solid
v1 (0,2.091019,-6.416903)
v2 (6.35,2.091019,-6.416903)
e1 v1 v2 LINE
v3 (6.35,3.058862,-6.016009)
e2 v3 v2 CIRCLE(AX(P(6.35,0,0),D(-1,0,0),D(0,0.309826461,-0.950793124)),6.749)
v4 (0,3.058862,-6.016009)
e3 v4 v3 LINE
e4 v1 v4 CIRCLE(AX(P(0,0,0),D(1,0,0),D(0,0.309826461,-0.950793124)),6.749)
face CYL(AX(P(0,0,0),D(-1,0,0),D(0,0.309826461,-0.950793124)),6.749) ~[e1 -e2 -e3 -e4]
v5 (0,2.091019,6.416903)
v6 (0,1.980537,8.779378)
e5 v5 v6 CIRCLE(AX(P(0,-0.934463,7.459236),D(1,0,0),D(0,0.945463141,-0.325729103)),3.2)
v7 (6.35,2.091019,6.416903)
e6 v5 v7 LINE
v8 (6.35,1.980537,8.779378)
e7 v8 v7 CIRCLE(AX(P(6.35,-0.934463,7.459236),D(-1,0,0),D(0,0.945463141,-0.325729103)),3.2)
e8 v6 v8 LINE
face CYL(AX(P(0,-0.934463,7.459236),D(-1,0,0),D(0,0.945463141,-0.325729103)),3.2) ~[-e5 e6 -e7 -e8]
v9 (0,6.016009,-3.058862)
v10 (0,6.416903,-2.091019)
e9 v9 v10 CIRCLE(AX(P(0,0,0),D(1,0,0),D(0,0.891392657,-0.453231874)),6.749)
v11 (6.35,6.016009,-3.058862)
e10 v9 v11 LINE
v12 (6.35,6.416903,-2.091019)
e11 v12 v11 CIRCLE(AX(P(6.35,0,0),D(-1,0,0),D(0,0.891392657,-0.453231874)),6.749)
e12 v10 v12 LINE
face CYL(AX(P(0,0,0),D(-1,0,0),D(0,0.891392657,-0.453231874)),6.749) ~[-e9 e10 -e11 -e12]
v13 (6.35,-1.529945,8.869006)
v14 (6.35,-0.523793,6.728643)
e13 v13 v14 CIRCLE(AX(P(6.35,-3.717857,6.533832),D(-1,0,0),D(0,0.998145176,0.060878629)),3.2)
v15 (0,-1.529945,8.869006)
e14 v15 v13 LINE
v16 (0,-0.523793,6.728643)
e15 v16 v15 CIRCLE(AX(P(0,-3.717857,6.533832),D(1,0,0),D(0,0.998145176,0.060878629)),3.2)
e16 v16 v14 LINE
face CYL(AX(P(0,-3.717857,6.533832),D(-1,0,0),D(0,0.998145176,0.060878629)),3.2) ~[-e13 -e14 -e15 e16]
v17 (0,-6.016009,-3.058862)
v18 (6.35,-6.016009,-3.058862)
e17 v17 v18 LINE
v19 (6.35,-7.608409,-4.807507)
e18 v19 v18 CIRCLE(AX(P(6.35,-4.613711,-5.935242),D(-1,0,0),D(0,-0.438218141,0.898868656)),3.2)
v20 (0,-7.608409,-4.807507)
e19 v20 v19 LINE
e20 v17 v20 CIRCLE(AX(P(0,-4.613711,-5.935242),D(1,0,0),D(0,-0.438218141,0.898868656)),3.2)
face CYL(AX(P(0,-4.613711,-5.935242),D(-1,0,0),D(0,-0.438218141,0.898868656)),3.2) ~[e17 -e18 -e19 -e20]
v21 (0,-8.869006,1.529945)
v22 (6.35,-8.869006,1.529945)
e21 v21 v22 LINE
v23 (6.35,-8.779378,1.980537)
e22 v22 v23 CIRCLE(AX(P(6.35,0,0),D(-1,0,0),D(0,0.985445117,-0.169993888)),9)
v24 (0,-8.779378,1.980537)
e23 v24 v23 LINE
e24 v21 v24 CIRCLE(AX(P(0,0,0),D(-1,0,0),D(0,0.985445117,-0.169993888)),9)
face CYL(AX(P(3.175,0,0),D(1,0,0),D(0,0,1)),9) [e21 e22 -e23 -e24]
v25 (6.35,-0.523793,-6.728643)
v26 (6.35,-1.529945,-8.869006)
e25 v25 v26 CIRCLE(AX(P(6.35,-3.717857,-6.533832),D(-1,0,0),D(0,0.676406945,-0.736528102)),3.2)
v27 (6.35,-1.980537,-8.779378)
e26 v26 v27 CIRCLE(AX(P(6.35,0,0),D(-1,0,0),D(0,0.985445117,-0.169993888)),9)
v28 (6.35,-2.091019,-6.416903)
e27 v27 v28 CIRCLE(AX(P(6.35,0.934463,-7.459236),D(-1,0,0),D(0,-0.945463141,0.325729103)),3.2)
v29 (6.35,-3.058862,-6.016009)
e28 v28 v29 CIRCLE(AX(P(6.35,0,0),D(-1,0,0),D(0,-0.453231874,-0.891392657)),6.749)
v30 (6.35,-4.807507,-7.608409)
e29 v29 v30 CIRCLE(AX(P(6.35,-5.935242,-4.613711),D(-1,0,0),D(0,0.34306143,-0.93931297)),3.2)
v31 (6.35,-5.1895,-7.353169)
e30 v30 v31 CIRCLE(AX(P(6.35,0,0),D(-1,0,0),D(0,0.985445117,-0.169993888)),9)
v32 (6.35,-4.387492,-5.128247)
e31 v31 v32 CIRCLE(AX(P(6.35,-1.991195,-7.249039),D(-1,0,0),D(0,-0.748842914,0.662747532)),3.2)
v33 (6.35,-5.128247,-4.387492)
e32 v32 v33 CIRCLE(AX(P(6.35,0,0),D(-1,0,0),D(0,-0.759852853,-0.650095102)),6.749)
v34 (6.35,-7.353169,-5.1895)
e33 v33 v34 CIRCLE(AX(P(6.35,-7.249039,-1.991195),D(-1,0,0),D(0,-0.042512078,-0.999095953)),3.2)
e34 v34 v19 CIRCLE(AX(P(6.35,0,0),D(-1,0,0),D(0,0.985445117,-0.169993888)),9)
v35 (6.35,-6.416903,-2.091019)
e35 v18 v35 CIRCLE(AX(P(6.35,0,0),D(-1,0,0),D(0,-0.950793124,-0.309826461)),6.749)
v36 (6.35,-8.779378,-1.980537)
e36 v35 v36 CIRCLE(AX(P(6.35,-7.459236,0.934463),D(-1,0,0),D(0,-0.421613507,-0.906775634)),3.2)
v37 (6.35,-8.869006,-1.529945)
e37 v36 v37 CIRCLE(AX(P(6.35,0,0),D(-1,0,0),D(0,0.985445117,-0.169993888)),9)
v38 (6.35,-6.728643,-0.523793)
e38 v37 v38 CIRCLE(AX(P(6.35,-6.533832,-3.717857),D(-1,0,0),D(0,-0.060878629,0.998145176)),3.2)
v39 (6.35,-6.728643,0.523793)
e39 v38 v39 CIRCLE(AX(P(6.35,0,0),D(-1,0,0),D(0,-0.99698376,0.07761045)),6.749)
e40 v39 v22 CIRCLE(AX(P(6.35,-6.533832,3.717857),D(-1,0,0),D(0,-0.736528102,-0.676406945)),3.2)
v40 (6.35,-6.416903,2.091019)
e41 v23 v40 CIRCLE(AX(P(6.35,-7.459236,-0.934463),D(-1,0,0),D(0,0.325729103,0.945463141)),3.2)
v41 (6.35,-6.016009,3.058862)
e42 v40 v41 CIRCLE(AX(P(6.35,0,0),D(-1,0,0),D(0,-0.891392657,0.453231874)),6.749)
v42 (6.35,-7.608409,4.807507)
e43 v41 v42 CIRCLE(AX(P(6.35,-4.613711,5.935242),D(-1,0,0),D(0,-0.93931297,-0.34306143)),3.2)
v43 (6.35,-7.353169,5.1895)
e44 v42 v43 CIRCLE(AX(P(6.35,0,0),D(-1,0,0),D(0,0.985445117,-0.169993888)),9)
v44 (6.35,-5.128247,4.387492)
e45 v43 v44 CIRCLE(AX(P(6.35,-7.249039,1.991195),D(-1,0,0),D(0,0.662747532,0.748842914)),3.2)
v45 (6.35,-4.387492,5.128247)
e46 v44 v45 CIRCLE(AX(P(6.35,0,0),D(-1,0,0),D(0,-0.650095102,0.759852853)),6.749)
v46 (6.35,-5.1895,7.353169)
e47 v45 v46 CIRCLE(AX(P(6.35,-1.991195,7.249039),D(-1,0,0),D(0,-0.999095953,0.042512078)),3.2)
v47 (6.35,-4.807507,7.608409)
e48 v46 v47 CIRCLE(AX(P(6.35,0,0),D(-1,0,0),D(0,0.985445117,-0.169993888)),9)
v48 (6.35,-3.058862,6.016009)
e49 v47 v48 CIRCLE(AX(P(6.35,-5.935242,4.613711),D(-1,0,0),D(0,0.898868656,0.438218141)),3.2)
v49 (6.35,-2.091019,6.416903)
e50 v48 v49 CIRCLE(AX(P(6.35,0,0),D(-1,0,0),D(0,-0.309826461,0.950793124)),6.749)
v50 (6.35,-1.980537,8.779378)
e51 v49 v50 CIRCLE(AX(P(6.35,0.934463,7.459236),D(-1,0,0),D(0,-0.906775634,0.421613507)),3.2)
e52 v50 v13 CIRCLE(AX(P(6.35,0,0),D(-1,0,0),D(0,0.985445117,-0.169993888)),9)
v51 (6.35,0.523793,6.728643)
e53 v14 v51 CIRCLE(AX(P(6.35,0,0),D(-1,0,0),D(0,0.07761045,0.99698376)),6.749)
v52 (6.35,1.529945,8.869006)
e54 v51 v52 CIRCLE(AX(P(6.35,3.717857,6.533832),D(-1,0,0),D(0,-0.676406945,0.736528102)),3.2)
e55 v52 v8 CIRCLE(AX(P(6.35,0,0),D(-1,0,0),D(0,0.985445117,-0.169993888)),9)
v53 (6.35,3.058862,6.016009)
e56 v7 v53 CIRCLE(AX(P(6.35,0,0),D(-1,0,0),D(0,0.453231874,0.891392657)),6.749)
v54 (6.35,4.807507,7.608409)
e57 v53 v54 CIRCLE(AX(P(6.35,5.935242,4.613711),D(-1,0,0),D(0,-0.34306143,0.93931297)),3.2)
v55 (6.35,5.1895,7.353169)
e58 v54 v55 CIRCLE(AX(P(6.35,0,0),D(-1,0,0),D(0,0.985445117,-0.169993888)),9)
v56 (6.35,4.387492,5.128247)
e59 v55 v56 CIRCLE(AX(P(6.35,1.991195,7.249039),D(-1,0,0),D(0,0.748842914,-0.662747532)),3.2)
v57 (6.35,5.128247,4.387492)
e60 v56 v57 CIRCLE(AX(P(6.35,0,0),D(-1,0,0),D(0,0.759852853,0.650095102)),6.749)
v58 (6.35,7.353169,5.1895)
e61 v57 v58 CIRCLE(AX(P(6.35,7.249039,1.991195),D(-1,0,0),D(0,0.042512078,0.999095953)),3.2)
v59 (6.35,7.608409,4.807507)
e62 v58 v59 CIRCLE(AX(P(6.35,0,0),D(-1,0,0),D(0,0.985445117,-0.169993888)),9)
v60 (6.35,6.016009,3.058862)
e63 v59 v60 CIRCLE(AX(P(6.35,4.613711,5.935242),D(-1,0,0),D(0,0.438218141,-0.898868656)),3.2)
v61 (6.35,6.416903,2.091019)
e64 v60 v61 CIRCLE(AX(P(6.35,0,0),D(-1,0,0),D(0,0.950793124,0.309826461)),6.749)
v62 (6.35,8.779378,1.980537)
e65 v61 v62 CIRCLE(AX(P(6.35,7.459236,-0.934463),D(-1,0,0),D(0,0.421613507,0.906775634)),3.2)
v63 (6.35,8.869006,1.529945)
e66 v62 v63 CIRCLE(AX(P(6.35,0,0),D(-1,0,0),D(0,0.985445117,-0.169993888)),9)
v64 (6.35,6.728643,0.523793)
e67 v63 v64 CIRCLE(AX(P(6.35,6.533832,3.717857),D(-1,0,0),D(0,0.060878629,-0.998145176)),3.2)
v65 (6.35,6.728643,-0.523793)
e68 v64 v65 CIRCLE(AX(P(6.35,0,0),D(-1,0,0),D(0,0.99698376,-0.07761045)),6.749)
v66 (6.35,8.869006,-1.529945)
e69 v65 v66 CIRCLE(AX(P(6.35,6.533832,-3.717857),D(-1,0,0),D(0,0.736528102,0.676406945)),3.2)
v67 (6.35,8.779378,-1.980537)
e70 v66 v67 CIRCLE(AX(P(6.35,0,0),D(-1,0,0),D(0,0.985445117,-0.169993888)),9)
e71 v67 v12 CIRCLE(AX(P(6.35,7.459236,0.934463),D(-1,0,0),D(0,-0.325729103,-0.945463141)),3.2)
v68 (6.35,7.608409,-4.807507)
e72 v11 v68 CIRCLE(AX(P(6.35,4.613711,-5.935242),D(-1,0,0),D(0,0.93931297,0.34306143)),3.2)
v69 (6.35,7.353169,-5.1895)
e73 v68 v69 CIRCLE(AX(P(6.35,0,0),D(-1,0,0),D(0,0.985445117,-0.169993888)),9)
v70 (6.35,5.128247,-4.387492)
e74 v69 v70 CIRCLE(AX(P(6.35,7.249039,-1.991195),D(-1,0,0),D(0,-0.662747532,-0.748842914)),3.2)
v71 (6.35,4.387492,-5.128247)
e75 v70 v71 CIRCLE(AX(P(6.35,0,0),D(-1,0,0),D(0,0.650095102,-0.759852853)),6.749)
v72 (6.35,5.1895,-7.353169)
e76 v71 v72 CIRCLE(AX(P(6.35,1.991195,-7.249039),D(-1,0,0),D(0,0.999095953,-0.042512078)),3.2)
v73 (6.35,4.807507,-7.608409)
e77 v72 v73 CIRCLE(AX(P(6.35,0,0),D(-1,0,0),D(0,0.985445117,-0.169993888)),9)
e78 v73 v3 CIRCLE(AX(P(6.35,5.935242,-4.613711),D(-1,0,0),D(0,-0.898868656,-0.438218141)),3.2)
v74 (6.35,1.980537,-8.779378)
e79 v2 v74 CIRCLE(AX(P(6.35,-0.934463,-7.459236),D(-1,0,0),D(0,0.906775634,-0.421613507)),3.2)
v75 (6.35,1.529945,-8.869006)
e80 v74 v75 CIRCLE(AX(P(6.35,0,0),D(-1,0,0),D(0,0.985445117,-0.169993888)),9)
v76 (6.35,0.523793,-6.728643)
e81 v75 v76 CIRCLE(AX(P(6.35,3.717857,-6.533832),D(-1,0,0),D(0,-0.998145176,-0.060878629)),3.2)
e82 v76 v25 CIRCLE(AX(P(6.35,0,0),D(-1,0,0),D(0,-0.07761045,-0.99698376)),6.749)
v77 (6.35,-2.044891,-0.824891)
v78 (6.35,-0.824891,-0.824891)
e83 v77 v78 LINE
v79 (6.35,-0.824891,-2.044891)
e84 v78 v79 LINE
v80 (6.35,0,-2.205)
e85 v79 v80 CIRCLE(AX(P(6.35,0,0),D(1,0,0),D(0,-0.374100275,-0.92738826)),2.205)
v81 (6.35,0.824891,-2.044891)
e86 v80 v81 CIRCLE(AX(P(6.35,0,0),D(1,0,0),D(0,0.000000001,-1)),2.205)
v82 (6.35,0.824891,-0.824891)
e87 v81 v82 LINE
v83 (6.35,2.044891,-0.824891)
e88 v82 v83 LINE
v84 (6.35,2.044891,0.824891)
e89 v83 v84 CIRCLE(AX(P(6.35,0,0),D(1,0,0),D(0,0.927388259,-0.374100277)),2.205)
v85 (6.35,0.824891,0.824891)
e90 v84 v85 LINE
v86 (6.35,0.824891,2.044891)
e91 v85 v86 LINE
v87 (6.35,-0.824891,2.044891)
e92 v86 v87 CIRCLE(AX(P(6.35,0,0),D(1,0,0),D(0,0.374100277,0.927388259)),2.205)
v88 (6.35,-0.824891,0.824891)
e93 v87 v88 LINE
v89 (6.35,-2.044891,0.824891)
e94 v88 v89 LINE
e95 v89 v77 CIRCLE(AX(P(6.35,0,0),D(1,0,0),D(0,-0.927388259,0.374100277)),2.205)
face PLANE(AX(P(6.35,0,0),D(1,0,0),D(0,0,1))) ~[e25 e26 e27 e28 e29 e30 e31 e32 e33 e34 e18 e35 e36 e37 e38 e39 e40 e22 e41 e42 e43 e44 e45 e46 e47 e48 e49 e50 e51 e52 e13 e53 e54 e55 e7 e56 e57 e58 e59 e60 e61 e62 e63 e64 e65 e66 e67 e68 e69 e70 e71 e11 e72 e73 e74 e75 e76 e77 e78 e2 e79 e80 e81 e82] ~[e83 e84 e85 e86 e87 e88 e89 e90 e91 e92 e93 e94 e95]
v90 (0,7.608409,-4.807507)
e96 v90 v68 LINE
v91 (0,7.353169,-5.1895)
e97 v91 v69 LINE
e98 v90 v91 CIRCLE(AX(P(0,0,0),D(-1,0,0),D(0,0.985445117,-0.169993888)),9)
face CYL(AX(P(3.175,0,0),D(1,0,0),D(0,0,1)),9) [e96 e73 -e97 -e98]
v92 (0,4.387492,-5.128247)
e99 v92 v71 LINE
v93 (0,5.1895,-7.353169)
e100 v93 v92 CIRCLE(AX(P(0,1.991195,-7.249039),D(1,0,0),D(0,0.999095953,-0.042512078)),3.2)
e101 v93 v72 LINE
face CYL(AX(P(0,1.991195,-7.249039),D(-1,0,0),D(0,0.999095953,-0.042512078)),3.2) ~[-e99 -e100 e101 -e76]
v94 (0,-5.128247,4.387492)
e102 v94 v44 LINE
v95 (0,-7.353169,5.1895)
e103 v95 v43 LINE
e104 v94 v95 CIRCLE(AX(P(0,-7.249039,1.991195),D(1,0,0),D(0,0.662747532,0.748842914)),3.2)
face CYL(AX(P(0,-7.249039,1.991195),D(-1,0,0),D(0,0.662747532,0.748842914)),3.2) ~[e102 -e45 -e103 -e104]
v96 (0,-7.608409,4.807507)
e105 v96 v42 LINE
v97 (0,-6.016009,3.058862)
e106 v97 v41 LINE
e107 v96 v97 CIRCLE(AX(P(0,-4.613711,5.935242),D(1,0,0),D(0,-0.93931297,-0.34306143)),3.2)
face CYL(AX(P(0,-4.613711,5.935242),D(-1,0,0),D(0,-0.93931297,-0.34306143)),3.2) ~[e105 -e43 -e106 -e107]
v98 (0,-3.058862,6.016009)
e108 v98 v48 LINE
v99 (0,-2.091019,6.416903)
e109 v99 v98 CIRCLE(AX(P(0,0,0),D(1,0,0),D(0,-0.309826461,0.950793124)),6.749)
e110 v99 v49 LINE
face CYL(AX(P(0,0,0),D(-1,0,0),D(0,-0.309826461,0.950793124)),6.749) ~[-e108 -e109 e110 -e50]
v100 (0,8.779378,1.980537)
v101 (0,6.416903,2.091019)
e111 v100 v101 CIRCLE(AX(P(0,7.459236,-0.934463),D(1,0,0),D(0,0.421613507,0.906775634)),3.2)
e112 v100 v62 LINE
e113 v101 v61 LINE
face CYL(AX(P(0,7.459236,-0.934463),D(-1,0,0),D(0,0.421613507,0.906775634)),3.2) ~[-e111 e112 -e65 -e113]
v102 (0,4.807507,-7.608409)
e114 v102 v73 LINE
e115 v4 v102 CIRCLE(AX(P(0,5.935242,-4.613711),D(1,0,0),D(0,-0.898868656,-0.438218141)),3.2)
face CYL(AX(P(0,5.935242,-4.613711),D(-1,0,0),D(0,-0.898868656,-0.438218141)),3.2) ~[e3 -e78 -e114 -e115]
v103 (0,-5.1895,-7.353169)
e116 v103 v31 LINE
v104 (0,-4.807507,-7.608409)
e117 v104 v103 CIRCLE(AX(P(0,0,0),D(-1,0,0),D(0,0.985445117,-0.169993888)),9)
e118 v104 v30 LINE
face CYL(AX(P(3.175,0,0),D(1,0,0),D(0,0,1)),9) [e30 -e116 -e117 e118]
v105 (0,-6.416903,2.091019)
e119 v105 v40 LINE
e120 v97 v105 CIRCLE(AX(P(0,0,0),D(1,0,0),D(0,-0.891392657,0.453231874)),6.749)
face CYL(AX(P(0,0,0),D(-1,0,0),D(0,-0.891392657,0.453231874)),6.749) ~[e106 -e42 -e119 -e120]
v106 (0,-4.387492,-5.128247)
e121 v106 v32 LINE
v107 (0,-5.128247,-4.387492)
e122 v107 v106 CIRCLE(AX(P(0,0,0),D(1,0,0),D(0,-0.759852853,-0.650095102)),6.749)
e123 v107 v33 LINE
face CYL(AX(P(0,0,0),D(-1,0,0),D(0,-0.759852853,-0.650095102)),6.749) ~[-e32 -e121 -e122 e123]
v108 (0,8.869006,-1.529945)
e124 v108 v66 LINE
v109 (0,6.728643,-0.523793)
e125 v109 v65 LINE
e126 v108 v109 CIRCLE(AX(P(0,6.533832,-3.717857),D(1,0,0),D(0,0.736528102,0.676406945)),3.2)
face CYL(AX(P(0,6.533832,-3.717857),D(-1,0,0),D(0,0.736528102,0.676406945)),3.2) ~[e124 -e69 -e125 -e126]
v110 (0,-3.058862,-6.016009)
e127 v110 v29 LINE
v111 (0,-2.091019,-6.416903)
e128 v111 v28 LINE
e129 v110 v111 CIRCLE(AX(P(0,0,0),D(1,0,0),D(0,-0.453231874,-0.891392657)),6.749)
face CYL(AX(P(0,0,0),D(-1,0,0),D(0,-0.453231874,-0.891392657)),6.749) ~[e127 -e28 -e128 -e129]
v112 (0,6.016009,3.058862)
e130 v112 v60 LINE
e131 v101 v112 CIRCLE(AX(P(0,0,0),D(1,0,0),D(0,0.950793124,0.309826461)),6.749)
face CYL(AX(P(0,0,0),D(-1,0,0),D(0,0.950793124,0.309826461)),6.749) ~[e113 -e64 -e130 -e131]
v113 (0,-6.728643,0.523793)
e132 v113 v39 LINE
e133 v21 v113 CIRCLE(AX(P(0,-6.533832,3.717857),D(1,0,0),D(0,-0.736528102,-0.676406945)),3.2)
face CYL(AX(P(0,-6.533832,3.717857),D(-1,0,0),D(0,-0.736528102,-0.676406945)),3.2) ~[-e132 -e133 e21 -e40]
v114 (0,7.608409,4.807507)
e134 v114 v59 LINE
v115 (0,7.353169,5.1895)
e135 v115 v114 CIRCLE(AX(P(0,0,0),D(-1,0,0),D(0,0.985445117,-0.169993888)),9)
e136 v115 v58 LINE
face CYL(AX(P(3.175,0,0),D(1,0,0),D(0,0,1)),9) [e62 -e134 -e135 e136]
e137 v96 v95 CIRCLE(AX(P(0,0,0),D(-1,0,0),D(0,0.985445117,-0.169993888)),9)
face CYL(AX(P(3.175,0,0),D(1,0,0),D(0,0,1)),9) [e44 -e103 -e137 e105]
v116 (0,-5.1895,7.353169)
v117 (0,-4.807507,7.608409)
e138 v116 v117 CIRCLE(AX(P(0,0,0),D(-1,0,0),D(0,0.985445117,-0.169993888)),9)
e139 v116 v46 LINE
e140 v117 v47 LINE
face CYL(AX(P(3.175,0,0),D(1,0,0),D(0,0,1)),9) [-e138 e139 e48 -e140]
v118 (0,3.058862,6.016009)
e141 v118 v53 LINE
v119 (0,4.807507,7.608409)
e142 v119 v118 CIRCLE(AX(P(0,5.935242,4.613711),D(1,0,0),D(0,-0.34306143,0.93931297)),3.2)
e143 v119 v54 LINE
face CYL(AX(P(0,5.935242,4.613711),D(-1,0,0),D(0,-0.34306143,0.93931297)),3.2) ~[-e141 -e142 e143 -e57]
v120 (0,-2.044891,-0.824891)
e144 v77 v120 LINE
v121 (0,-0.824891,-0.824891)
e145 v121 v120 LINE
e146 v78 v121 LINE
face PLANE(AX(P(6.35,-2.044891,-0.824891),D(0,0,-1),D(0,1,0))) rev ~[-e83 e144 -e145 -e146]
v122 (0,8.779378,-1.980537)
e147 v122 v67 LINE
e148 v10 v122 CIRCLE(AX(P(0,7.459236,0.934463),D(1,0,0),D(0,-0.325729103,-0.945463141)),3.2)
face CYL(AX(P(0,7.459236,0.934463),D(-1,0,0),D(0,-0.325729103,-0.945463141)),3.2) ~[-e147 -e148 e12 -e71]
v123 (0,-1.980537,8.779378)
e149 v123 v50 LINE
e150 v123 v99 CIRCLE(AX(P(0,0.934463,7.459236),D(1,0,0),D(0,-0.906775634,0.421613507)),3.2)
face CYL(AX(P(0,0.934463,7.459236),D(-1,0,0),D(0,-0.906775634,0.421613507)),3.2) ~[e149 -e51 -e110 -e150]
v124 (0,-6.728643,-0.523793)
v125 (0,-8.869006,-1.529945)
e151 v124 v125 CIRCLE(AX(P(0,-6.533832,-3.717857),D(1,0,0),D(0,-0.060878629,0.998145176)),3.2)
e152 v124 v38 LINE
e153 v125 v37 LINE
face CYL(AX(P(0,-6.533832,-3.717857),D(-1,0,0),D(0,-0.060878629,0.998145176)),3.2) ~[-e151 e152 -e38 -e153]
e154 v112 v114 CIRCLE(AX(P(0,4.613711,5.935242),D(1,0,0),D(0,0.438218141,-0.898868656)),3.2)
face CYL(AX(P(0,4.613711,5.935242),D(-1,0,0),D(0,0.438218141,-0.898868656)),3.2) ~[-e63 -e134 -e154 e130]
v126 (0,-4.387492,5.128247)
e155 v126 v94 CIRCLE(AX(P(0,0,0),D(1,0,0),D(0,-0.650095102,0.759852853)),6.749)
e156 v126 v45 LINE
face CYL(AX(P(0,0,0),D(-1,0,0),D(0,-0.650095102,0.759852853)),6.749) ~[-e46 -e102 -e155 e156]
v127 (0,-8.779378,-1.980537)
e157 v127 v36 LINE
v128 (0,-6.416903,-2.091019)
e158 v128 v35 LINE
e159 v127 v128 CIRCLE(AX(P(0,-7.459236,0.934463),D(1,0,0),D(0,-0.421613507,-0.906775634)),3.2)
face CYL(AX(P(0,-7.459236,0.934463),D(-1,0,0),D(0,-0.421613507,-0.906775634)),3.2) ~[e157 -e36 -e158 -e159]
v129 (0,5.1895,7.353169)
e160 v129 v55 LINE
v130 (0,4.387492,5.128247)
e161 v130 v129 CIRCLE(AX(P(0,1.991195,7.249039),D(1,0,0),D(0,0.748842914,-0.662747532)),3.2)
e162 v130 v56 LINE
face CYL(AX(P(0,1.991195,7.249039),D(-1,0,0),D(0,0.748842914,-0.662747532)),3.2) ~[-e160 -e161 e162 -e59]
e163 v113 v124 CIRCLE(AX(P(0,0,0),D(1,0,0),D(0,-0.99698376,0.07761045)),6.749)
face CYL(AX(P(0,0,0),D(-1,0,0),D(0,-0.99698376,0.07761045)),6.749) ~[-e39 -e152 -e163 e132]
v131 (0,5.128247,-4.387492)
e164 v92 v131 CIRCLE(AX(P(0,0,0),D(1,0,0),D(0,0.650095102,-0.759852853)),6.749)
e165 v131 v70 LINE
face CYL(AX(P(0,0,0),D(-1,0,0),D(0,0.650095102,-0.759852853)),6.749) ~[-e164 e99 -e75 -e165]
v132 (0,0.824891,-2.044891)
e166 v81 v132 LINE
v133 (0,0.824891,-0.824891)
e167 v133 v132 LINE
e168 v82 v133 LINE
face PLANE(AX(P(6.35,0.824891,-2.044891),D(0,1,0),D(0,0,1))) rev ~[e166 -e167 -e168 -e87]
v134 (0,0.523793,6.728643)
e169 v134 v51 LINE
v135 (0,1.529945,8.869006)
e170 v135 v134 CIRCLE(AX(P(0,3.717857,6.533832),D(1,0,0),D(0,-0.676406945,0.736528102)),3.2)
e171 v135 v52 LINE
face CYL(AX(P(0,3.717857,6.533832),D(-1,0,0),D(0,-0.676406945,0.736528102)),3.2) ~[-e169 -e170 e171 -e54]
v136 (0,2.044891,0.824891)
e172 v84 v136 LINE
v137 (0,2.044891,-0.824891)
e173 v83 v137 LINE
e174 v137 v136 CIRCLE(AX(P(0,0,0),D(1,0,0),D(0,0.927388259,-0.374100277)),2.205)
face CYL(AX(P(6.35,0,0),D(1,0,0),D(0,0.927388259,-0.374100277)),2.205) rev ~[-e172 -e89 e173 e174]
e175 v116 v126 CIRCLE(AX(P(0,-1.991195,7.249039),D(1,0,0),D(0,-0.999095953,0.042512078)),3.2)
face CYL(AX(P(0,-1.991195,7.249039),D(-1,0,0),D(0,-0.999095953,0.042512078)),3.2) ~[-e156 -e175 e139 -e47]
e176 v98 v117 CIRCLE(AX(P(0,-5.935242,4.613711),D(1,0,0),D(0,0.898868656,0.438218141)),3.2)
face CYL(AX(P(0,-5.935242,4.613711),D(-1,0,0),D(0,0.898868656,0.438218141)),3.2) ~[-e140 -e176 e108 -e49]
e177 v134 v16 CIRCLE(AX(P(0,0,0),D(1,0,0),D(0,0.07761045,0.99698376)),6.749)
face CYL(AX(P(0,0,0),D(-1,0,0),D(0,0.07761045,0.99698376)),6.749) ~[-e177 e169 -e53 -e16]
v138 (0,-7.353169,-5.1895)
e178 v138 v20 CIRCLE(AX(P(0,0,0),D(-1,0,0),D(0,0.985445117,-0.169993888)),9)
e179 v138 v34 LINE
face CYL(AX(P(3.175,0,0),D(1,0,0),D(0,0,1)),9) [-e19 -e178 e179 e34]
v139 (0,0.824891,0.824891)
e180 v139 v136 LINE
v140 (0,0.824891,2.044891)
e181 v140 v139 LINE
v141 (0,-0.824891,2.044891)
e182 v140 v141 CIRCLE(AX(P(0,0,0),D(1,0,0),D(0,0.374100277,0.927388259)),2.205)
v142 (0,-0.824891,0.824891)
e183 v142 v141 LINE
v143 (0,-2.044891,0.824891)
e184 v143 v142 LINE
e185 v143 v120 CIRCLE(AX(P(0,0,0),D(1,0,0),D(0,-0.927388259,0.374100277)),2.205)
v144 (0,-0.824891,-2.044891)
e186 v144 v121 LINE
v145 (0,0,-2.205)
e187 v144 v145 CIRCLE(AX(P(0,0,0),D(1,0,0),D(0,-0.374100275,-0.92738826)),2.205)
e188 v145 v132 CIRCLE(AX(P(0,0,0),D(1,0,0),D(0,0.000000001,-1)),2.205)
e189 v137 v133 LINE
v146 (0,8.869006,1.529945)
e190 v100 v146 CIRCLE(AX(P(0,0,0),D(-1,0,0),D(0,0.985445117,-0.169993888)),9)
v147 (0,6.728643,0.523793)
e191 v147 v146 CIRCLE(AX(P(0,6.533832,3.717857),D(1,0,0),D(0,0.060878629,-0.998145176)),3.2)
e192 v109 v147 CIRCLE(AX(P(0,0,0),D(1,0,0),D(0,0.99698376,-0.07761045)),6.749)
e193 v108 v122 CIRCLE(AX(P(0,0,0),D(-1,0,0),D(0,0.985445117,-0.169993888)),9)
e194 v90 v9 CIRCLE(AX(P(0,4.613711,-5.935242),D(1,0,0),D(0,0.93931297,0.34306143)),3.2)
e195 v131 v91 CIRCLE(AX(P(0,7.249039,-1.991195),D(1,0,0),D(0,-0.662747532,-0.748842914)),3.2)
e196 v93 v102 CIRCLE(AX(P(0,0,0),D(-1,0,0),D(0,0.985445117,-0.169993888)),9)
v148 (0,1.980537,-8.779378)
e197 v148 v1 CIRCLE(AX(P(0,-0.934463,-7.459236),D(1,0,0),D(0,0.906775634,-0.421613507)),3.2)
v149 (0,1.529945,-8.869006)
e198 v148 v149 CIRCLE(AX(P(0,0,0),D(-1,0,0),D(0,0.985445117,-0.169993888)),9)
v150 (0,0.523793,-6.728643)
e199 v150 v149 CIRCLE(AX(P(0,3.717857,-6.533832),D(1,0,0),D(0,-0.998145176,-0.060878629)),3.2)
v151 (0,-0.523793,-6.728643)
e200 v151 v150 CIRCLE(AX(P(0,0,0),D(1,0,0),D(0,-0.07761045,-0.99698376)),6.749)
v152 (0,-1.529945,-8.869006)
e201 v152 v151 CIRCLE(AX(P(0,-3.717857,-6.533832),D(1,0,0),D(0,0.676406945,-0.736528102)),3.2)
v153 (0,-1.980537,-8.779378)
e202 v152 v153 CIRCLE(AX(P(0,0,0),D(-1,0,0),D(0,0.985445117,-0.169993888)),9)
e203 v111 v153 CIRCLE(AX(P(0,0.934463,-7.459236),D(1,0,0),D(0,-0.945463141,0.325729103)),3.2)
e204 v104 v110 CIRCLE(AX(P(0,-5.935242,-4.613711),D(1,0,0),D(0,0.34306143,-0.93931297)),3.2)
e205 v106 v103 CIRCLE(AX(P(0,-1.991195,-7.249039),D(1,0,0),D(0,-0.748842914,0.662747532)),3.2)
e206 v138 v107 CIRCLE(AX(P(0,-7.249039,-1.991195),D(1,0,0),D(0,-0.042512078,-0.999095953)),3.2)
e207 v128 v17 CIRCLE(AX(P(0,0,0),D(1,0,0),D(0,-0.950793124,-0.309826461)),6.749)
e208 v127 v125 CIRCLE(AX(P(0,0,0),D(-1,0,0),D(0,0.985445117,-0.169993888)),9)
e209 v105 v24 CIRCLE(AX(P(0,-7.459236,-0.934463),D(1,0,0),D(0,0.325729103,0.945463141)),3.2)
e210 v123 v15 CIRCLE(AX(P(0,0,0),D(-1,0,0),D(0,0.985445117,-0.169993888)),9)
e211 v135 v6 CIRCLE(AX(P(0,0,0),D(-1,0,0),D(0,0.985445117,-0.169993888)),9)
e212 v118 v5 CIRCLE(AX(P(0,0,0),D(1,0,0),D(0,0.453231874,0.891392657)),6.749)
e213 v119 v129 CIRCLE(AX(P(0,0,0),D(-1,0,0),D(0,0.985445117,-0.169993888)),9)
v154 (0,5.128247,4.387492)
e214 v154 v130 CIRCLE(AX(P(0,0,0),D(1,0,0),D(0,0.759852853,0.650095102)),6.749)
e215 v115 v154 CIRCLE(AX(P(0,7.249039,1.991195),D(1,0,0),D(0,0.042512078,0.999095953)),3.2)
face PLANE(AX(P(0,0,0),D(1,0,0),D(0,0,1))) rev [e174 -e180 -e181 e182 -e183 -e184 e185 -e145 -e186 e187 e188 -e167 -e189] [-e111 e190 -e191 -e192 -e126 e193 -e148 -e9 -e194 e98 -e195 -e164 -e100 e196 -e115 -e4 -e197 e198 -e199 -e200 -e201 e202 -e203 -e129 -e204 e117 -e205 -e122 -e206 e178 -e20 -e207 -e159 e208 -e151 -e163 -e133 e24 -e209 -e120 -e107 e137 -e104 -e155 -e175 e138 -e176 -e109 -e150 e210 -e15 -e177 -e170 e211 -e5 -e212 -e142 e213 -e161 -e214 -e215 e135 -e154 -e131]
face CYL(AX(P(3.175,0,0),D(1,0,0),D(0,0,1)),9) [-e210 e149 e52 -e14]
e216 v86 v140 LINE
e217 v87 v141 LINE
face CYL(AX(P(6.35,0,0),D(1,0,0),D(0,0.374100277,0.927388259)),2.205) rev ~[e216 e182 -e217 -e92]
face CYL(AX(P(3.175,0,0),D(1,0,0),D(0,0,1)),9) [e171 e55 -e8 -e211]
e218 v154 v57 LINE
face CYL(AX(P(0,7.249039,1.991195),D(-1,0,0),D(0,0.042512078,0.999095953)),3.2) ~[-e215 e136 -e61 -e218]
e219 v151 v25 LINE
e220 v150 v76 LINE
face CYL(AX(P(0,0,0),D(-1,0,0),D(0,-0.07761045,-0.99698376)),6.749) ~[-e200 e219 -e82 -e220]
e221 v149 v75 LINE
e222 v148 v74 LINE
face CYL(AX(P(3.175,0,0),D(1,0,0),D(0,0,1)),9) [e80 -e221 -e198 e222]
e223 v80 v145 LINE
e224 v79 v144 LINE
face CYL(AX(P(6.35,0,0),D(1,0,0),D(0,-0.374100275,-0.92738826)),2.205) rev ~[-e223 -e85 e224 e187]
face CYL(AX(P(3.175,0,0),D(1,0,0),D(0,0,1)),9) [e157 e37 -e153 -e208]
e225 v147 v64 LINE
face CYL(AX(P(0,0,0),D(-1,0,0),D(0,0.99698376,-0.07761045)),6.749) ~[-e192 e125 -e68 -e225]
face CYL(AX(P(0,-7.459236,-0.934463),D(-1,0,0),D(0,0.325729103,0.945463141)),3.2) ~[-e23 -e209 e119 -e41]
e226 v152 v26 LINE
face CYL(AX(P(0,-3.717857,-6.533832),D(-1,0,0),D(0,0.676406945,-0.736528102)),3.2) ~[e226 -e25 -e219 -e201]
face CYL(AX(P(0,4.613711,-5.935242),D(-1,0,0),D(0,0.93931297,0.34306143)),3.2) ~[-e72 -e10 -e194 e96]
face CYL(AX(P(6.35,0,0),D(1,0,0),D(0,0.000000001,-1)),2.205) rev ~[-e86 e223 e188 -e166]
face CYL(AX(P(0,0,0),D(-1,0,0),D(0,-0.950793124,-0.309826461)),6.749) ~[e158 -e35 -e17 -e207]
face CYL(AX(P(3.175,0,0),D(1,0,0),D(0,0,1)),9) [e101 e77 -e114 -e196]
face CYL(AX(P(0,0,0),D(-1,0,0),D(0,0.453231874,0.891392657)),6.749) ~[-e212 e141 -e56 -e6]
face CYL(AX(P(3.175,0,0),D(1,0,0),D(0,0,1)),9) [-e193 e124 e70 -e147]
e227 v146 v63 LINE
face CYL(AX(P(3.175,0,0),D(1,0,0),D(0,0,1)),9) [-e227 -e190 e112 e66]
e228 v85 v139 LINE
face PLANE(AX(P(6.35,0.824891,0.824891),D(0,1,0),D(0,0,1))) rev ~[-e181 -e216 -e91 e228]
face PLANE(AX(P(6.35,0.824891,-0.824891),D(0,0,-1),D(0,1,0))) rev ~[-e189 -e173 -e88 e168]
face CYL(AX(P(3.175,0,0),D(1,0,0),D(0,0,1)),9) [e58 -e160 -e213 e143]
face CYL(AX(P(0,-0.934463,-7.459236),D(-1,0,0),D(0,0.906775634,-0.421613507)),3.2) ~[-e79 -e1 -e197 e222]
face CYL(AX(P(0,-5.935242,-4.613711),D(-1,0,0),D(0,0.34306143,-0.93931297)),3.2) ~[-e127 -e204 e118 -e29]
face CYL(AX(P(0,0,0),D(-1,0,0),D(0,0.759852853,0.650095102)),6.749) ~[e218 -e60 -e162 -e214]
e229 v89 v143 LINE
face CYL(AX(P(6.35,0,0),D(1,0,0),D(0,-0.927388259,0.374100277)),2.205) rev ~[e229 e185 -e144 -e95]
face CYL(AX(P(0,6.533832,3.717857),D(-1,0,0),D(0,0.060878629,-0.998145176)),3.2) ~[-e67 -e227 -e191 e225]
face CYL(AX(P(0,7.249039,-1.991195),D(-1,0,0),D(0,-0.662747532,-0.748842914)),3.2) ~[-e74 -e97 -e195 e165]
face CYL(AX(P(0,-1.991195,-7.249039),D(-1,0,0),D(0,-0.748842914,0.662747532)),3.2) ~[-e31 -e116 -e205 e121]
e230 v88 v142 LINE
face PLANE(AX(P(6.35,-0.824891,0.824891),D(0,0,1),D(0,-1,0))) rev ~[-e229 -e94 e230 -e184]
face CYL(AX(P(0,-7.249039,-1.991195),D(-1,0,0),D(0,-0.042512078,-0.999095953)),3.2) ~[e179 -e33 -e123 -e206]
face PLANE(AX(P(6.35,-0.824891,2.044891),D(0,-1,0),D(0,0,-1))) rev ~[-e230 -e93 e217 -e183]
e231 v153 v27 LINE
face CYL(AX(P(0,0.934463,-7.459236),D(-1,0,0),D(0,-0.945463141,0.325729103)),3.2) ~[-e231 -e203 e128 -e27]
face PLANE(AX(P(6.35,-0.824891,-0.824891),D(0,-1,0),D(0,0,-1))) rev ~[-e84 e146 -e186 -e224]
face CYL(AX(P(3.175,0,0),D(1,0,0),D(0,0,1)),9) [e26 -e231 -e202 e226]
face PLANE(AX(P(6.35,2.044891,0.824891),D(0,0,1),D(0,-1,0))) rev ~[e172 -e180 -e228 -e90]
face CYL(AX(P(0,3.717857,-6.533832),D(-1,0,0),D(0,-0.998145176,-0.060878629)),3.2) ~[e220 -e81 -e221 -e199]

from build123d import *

# Parameters (mm, degrees)
BASPROSKE_W        = 6.35
BASPROSKE_H        = 9
TOOTHCUT_DEPTH     = 15.224011389
TEETHCUTS_COUNT    = 16
TEETHCUTS_ANGLE    = 337.5
BORSKE_R           = 0.5
BORE_DEPTH         = 50.0000508
CUT_EXTRUDE1_DEPTH = 10


with BuildPart() as part:
    # BasProSke → Base-Revolve (revolve)
    with BuildSketch(Plane(origin=(0, 0, 0), x_dir=(1, 0, 0), z_dir=(0, 1, 0)), mode=Mode.PRIVATE) as base_revolve_sk:
        with Locations((3.175, 4.5)):
            Rectangle(BASPROSKE_W, BASPROSKE_H)
    revolve(base_revolve_sk.sketch.rotate(Axis((-10, 0, 0), (1, 0, 0)), 180), axis=Axis((-10, 0, 0), (1, 0, 0)))

    # TooCutSke → ToothCut (cut, through all)
    with BuildSketch(Plane(origin=(0, 0, 0), x_dir=(0, 0, -1), z_dir=(1, 0, 0))):
        with BuildLine():
            ThreePointArc((0.523792937, 6.728643397), (0, 6.749), (-0.523792937, 6.728643397))
            ThreePointArc((-0.523792937, 6.728643397), (-0.828704482, 7.90962059), (-1.553355277, 8.890721711))
            ThreePointArc((-1.553355277, 8.890721711), (0, 9.0254), (1.553355277, 8.890721711))
            ThreePointArc((1.553355277, 8.890721711), (0.828704482, 7.90962059), (0.523792937, 6.728643397))
        make_face()
    toothcut = extrude(amount=TOOTHCUT_DEPTH, mode=Mode.SUBTRACT)

    # TeethCuts: ToothCut ×16 about axis
    teethcuts_axis = Axis((-10, 0, 0), (1, 0, 0))
    for i in range(1, TEETHCUTS_COUNT):
        add(toothcut.rotate(teethcuts_axis, i * TEETHCUTS_ANGLE / (TEETHCUTS_COUNT - 1)), mode=Mode.SUBTRACT)

    # BorSke → Bore (cut, symmetric)
    with BuildSketch(Plane(origin=(0, 0, 0), x_dir=(0, 0, -1), z_dir=(1, 0, 0))):
        with Locations(Location((0, 0, 0), (0, 0, 180))):
            Circle(BORSKE_R)
    extrude(amount=BORE_DEPTH, both=True, mode=Mode.SUBTRACT)

    # Sketch1 → Cut-Extrude1 (cut)
    with BuildSketch(Plane(origin=(6.35, 0, 0), x_dir=(0, 0, -1), z_dir=(1, 0, 0))):
        with BuildLine():
            ThreePointArc((0.824891111, 2.044891111), (0, 2.205), (-0.824891111, 2.044891111))
            Line((-0.824891111, 2.044891111), (-0.824891111, 0.824891111))
            Line((-0.824891111, 0.824891111), (-2.044891111, 0.824891111))
            ThreePointArc((-2.044891111, 0.824891111), (-2.205, 0), (-2.044891111, -0.824891111))
            Line((-2.044891111, -0.824891111), (-0.824891111, -0.824891111))
            Line((-0.824891111, -0.824891111), (-0.824891111, -2.044891111))
            ThreePointArc((-0.824891111, -2.044891111), (0, -2.205), (0.824891111, -2.044891111))
            Line((0.824891111, -2.044891111), (0.824891111, -0.824891111))
            Line((0.824891111, -0.824891111), (2.044891111, -0.824891111))
            ThreePointArc((2.044891111, -0.824891111), (2.164602723, -0.420142893), (2.205, 0))
            ThreePointArc((2.205, 0), (2.164602723, 0.420142893), (2.044891111, 0.824891111))
            Line((2.044891111, 0.824891111), (0.824891111, 0.824891111))
            Line((0.824891111, 0.824891111), (0.824891111, 2.044891111))
        make_face()
    extrude(amount=-CUT_EXTRUDE1_DEPTH, mode=Mode.SUBTRACT)


solid = part.part
